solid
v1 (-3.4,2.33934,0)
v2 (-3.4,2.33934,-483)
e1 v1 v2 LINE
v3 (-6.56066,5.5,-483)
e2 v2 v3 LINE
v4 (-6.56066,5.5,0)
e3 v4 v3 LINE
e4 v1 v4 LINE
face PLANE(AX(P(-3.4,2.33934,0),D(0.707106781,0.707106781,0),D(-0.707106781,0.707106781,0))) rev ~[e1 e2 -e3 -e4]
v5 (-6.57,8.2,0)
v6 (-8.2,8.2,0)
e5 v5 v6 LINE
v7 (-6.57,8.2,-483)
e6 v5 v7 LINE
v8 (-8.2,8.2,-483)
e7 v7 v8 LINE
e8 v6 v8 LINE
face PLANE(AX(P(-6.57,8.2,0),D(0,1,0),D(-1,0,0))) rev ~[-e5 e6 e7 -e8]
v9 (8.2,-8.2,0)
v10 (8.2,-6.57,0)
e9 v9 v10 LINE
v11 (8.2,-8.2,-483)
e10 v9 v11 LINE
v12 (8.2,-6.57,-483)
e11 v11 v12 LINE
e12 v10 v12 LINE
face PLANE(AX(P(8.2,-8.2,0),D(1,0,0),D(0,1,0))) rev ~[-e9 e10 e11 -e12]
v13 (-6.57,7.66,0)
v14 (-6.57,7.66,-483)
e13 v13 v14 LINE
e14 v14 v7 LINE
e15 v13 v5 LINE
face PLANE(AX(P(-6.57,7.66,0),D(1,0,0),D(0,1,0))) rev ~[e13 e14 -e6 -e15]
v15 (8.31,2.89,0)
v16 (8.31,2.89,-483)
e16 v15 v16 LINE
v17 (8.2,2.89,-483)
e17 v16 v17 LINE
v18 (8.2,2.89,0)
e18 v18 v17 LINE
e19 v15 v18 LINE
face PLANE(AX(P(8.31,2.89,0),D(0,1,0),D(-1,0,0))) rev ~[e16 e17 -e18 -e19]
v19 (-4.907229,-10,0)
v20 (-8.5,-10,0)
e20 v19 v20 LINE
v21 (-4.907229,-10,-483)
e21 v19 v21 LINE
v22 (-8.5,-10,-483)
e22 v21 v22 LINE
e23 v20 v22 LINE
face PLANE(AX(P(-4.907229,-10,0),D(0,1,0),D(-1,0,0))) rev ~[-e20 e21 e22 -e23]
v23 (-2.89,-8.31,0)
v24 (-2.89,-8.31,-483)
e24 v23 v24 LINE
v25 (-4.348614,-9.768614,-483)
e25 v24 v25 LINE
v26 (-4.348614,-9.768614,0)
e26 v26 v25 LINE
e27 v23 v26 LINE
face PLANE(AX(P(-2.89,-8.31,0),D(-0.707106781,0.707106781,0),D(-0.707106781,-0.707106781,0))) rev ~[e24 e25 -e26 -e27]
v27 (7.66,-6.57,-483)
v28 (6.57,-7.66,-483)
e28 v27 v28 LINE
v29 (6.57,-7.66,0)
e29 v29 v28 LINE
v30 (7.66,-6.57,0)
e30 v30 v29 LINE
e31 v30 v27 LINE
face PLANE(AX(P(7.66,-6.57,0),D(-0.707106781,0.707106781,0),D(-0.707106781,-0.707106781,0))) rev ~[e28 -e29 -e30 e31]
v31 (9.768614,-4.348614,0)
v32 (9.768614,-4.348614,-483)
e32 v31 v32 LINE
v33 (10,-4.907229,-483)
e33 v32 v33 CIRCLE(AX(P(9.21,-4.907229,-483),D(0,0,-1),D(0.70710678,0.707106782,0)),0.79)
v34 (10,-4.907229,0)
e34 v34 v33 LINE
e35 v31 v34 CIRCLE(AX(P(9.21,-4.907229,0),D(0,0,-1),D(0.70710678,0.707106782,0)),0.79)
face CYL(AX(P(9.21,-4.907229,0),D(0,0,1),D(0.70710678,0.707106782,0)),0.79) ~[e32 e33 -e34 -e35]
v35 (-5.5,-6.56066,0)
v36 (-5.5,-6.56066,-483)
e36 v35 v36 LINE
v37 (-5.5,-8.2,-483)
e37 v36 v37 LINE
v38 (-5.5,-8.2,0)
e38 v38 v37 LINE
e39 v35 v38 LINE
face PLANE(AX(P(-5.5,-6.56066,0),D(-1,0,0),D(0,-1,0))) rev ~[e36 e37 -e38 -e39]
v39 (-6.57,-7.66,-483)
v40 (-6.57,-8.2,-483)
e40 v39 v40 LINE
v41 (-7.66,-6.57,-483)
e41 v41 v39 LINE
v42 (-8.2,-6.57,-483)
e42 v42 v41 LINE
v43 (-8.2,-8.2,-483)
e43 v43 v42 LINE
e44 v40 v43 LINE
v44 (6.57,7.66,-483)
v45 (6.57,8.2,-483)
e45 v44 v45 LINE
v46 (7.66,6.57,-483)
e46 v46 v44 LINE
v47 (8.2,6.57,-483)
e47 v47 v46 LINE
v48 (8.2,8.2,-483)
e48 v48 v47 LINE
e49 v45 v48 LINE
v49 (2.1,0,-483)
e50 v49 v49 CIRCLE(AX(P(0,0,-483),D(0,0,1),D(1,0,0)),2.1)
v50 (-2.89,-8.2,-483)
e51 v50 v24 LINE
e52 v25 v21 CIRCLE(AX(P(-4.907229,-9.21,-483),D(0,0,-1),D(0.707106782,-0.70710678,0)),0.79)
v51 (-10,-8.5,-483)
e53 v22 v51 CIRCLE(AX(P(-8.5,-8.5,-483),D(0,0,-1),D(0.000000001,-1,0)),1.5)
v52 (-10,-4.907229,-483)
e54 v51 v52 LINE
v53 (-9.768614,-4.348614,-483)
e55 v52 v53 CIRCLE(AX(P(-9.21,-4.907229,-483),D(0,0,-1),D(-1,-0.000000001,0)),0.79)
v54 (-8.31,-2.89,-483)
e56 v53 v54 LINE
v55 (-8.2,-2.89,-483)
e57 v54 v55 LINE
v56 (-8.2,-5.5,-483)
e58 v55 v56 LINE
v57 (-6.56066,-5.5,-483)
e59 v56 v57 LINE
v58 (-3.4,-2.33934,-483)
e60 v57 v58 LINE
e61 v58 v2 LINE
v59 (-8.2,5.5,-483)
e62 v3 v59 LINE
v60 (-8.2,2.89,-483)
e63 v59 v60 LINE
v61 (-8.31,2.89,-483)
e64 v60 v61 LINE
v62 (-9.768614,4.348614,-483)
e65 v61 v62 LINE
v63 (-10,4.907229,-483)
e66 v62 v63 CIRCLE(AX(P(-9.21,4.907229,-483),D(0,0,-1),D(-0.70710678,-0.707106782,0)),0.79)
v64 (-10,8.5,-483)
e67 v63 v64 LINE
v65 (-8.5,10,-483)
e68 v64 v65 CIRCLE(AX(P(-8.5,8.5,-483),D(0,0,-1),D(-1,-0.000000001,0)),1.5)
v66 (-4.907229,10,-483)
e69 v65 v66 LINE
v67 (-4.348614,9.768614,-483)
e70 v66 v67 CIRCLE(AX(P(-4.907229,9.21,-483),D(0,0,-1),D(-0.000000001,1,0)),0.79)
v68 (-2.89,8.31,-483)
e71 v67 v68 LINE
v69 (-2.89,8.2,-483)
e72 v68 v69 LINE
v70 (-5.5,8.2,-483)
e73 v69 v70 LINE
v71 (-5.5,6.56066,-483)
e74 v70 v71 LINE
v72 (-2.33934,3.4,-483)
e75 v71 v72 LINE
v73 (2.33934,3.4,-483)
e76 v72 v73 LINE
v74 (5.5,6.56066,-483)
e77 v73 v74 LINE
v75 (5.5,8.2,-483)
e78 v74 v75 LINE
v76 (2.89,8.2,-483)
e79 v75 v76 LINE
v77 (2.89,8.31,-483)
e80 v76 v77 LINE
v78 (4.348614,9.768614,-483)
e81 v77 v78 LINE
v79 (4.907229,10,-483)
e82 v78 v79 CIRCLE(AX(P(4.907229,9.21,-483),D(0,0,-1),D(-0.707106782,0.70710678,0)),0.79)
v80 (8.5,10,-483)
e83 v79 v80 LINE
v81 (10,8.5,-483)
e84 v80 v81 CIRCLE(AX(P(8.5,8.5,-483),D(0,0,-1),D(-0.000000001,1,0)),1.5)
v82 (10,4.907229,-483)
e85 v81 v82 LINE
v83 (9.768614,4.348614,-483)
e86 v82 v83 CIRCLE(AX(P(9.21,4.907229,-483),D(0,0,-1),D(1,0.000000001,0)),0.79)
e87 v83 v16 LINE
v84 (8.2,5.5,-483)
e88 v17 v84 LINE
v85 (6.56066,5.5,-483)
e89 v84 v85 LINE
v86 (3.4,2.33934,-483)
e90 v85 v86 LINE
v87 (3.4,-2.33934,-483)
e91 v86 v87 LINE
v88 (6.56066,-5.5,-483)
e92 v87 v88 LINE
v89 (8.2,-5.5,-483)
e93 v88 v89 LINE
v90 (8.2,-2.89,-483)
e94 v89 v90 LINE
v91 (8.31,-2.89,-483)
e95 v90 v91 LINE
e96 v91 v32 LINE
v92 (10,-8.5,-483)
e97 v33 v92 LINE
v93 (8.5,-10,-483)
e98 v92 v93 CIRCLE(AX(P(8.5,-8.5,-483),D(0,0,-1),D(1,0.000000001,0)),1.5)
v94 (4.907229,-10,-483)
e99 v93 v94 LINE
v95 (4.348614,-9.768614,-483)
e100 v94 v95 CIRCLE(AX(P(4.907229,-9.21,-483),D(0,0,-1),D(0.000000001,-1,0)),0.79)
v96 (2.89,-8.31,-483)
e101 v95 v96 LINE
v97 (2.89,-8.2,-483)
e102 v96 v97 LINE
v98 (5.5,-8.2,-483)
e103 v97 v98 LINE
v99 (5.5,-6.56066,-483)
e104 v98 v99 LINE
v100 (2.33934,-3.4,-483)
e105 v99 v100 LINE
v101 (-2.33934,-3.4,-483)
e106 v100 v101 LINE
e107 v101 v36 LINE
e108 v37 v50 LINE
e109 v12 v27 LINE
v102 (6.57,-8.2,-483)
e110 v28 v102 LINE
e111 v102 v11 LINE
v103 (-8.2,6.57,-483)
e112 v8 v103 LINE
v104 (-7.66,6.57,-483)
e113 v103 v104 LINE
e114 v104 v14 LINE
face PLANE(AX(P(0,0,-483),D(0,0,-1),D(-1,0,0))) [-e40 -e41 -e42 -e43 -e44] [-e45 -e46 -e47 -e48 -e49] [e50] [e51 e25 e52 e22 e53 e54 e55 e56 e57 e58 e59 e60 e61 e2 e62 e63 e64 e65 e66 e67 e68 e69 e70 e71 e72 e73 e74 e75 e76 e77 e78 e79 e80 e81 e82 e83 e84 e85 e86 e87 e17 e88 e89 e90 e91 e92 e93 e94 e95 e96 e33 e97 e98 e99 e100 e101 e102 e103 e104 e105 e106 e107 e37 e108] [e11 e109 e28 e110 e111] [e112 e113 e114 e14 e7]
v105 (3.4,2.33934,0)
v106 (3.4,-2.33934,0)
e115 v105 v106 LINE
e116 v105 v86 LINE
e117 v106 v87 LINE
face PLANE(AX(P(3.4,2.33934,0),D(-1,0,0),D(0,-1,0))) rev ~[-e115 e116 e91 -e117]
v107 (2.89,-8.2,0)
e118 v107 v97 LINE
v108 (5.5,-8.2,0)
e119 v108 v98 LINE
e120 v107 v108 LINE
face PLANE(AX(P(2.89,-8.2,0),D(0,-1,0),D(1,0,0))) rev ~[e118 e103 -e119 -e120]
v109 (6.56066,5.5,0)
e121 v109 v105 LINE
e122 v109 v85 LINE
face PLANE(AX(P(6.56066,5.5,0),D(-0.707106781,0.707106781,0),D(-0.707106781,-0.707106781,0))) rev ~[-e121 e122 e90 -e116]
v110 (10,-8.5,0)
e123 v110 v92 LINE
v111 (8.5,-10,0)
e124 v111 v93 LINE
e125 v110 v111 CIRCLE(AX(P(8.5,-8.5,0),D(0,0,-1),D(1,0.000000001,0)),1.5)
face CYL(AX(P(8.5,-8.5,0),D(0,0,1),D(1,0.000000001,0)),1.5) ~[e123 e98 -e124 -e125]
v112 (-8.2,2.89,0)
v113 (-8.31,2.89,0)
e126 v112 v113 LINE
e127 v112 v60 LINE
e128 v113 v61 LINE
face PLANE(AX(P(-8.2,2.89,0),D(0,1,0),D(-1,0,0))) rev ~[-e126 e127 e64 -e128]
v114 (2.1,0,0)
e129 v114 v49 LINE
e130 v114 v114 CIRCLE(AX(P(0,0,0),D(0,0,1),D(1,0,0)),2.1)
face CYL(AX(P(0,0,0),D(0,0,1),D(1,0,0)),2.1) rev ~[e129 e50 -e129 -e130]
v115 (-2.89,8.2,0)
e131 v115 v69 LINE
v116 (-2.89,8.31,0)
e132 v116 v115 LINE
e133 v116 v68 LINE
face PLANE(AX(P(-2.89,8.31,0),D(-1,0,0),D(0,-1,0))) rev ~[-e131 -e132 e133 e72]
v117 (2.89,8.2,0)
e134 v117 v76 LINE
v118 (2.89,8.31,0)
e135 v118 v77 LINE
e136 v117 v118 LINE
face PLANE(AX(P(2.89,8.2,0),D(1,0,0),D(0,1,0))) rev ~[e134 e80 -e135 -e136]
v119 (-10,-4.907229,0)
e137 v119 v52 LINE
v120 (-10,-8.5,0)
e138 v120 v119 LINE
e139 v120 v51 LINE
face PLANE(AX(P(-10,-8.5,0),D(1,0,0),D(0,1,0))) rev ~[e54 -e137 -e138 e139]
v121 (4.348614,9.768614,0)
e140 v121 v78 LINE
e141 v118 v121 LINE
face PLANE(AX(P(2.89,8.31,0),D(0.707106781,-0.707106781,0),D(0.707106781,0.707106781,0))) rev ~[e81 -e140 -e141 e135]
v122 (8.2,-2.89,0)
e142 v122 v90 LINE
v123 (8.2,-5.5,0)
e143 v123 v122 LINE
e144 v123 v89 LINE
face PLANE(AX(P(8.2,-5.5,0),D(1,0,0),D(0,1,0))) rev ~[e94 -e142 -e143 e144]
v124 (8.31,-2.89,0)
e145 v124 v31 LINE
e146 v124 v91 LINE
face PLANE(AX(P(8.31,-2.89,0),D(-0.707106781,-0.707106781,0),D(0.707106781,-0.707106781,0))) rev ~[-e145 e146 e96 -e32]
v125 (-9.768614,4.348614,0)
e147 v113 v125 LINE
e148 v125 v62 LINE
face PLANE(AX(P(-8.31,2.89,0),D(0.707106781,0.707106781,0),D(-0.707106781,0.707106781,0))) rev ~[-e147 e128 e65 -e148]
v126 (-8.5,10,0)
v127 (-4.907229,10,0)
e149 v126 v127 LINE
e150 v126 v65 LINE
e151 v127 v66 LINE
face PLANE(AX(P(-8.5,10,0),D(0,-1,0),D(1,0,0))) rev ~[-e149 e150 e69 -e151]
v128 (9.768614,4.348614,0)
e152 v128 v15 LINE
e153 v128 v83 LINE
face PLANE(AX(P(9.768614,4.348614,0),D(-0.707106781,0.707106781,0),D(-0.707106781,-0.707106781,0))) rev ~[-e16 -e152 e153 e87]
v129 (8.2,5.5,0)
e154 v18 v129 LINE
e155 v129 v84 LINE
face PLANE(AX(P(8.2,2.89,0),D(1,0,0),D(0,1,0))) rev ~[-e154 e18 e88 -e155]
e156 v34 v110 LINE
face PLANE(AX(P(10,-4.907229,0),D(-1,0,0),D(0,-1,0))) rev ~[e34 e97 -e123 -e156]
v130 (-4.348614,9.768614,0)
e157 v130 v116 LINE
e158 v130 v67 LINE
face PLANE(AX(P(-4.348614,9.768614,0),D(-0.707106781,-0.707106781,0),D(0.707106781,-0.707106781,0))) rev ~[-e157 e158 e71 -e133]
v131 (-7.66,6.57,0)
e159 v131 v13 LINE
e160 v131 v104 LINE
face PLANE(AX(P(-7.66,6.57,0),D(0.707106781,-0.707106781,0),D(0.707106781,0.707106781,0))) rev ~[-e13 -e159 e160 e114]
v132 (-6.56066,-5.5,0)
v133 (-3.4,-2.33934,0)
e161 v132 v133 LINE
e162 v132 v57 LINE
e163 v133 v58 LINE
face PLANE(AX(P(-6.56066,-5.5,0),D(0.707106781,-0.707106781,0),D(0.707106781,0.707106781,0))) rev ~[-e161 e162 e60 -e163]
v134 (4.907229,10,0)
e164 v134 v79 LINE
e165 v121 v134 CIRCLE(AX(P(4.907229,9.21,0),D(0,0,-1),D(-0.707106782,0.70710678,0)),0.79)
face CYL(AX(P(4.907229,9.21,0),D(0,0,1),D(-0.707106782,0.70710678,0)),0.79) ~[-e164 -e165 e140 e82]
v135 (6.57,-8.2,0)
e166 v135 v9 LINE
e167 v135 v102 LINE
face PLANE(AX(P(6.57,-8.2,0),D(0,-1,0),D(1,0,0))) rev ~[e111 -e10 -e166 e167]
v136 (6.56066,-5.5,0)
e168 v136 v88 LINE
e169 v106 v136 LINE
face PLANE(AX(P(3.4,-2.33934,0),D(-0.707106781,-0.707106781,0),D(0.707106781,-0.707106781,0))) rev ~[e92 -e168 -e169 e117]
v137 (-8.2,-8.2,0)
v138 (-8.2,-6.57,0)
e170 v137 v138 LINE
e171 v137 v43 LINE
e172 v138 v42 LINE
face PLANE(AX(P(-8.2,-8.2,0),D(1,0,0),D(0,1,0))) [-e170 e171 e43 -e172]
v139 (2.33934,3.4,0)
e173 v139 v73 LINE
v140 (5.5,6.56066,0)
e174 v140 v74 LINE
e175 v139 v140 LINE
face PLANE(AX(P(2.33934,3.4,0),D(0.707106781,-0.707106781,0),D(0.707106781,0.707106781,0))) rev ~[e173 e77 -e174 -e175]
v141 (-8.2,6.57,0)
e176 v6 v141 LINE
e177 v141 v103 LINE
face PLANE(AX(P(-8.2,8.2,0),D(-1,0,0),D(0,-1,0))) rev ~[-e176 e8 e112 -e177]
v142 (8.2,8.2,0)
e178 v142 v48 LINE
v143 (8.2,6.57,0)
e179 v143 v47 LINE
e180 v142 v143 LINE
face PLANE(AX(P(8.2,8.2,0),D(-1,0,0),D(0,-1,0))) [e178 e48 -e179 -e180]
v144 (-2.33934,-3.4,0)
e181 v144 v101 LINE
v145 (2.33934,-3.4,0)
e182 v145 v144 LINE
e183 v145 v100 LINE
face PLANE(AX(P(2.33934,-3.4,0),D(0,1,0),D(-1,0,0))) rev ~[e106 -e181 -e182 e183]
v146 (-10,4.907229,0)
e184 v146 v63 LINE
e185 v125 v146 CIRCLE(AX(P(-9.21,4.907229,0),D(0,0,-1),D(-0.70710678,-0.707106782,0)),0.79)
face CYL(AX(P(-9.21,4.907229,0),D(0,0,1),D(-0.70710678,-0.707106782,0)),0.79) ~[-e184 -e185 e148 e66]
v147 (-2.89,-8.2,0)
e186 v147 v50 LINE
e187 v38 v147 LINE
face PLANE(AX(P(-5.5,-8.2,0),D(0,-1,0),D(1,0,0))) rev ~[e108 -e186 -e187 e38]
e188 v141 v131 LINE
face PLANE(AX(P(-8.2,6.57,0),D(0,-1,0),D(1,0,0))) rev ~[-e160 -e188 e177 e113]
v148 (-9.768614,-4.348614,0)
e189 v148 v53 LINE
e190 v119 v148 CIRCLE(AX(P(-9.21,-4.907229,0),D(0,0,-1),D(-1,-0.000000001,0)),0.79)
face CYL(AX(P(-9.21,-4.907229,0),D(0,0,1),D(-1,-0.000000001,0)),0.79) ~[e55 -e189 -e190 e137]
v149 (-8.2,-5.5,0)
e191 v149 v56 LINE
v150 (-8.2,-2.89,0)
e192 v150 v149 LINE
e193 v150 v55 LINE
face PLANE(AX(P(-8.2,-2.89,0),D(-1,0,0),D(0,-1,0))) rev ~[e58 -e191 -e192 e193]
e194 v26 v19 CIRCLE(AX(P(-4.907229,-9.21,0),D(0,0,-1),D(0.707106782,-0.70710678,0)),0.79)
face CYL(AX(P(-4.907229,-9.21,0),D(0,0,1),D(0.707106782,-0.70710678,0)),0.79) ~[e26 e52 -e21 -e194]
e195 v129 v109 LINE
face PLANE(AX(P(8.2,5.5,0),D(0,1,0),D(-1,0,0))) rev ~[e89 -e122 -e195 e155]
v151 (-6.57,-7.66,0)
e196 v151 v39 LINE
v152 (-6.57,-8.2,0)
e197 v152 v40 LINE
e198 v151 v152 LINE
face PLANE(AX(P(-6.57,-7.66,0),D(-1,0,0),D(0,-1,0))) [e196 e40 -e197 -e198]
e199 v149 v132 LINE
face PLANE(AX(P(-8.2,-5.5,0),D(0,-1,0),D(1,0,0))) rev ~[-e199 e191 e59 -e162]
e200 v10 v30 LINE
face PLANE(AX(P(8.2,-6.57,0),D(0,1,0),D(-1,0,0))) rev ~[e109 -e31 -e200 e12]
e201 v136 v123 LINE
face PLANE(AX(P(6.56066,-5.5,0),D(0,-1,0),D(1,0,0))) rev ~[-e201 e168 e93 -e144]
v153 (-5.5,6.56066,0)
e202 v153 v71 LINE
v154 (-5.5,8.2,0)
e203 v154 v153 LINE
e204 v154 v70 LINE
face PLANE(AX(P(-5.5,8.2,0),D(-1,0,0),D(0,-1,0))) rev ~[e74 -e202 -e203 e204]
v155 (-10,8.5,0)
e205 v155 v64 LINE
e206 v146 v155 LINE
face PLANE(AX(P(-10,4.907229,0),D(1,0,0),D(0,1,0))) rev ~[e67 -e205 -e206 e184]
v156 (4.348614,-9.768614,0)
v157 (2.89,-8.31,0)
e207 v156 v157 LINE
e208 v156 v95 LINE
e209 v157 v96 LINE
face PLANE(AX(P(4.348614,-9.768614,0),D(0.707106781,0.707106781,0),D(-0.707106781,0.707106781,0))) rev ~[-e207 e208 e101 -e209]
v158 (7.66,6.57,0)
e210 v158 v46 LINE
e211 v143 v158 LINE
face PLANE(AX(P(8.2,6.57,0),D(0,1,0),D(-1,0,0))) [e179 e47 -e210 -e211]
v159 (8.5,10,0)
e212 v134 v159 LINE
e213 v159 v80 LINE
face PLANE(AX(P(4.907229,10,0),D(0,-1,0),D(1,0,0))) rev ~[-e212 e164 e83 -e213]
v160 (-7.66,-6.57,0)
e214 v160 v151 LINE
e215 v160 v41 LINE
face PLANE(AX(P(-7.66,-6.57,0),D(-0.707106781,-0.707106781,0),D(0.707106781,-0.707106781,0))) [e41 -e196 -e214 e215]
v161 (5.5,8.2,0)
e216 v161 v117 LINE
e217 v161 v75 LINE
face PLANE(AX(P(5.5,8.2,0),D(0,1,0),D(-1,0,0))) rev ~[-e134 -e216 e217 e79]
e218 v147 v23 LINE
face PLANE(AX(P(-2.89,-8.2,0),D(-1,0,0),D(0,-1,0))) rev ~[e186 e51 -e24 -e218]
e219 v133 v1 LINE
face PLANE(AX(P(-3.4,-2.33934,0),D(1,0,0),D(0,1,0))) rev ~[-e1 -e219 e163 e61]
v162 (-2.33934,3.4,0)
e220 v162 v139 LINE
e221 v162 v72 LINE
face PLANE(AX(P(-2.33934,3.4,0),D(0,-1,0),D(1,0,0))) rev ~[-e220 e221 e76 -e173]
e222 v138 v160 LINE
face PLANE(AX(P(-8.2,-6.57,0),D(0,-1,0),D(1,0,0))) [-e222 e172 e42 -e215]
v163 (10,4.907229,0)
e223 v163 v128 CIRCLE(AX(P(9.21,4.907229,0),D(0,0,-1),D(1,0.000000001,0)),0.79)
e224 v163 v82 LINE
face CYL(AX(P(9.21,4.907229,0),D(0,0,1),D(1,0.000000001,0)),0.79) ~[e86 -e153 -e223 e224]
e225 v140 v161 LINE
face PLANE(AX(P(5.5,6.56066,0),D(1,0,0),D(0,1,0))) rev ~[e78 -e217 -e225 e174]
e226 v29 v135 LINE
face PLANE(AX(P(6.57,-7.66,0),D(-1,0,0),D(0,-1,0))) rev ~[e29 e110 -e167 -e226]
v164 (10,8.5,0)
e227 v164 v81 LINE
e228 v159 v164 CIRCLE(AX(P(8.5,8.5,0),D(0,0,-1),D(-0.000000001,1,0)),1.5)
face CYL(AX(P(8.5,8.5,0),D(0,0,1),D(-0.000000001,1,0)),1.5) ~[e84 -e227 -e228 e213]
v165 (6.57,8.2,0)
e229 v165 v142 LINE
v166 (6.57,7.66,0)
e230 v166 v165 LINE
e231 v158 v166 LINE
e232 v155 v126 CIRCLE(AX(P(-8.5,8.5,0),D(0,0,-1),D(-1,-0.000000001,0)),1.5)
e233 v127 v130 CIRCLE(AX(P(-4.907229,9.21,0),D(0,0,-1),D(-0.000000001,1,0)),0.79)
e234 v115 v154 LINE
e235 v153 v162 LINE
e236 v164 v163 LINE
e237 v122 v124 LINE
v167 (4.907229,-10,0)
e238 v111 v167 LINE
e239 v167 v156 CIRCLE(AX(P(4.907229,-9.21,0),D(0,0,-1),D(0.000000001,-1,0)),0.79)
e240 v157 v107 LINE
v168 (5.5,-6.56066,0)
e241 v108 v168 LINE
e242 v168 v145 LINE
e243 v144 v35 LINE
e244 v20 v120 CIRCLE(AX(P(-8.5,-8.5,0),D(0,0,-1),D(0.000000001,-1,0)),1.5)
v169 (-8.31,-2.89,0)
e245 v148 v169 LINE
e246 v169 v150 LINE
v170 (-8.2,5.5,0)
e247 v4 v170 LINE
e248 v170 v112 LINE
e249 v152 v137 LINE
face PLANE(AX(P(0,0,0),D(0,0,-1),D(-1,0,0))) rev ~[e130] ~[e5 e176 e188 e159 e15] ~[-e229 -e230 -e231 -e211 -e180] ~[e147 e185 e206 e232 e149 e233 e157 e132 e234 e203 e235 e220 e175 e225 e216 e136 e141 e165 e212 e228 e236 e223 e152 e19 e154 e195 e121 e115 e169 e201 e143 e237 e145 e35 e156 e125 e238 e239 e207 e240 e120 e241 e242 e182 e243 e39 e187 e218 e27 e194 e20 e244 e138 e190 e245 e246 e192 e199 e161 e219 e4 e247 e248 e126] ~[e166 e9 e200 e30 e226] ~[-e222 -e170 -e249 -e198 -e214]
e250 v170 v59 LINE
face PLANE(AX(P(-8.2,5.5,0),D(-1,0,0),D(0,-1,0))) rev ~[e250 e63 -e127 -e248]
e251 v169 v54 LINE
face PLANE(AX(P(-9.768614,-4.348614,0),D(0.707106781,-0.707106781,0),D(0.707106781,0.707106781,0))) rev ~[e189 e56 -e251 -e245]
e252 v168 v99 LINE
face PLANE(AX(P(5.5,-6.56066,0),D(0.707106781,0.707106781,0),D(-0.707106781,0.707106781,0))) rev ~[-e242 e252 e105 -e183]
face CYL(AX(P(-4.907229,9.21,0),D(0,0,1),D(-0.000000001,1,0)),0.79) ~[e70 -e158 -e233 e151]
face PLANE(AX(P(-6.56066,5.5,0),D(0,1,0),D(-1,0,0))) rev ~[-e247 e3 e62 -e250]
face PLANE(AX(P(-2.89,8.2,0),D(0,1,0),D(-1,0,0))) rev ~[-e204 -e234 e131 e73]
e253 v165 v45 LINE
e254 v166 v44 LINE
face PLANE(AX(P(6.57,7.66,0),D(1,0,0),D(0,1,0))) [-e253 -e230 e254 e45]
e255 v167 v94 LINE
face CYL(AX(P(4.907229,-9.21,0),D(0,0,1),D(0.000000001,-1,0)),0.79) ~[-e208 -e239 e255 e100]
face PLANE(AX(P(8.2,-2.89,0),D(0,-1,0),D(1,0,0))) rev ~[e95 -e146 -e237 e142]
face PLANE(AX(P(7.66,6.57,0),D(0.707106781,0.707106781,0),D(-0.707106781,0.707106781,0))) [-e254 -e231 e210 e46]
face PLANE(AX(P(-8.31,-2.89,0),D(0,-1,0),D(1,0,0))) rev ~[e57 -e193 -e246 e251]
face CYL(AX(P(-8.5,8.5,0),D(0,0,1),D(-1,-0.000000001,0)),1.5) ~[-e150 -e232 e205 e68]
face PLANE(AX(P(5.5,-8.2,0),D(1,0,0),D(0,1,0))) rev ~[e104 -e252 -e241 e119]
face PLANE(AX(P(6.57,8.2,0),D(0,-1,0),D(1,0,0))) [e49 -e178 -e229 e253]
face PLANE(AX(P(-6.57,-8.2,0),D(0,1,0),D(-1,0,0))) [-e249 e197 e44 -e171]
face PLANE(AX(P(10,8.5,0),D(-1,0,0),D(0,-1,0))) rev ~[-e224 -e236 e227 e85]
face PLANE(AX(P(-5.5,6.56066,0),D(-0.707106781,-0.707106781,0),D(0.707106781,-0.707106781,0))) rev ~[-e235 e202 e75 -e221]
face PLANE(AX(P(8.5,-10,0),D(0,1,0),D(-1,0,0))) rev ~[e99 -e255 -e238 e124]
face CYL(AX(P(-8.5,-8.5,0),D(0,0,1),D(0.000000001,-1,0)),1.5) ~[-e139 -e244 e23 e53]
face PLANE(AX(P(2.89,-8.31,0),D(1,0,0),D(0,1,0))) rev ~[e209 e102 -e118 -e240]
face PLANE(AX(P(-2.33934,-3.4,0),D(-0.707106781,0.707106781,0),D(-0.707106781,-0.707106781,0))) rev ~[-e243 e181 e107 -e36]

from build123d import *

# Parameters (mm, degrees)
SKETCH6_R           = 2.1
BOSS_EXTRUDE1_DEPTH = 483


with BuildPart() as part:
    # Sketch6 → Boss-Extrude1 (new body)
    with BuildSketch(Plane.XY):
        with BuildLine():
            Line((-3.4, -2.339339828), (-3.4, 2.339339828))
            Line((-3.4, 2.339339828), (-6.560660172, 5.5))
            Line((-6.560660172, 5.5), (-8.2, 5.5))
            Line((-8.2, 5.5), (-8.2, 2.89))
            Line((-8.2, 2.89), (-8.31, 2.89))
            Line((-8.31, 2.89), (-9.768614357, 4.348614357))
            ThreePointArc((-9.768614357, 4.348614357), (-9.939864831, 4.604908803), (-10, 4.907228714))
            Line((-10, 4.907228714), (-10, 8.5))
            ThreePointArc((-10, 8.5), (-9.560660172, 9.560660172), (-8.5, 10))
            Line((-8.5, 10), (-4.907228714, 10))
            ThreePointArc((-4.907228714, 10), (-4.604908803, 9.939864831), (-4.348614357, 9.768614357))
            Line((-4.348614357, 9.768614357), (-2.89, 8.31))
            Line((-2.89, 8.31), (-2.89, 8.2))
            Line((-2.89, 8.2), (-5.5, 8.2))
            Line((-5.5, 8.2), (-5.5, 6.560660172))
            Line((-5.5, 6.560660172), (-2.339339828, 3.4))
            Line((-2.339339828, 3.4), (2.339339828, 3.4))
            Line((2.339339828, 3.4), (5.5, 6.560660172))
            Line((5.5, 6.560660172), (5.5, 8.2))
            Line((5.5, 8.2), (2.89, 8.2))
            Line((2.89, 8.2), (2.89, 8.31))
            Line((2.89, 8.31), (4.348614357, 9.768614357))
            ThreePointArc((4.348614357, 9.768614357), (4.604908803, 9.939864831), (4.907228714, 10))
            Line((4.907228714, 10), (8.5, 10))
            ThreePointArc((8.5, 10), (9.560660172, 9.560660172), (10, 8.5))
            Line((10, 8.5), (10, 4.907228714))
            ThreePointArc((10, 4.907228714), (9.939864831, 4.604908803), (9.768614357, 4.348614357))
            Line((9.768614357, 4.348614357), (8.31, 2.89))
            Line((8.31, 2.89), (8.2, 2.89))
            Line((8.2, 2.89), (8.2, 5.5))
            Line((8.2, 5.5), (6.560660172, 5.5))
            Line((6.560660172, 5.5), (3.4, 2.339339828))
            Line((3.4, 2.339339828), (3.4, -2.339339828))
            Line((3.4, -2.339339828), (6.560660172, -5.5))
            Line((6.560660172, -5.5), (8.2, -5.5))
            Line((8.2, -5.5), (8.2, -2.89))
            Line((8.2, -2.89), (8.31, -2.89))
            Line((8.31, -2.89), (9.768614357, -4.348614357))
            ThreePointArc((9.768614357, -4.348614357), (9.939864831, -4.604908803), (10, -4.907228714))
            Line((10, -4.907228714), (10, -8.5))
            ThreePointArc((10, -8.5), (9.560660172, -9.560660172), (8.5, -10))
            Line((8.5, -10), (4.907228714, -10))
            ThreePointArc((4.907228714, -10), (4.604908803, -9.939864831), (4.348614357, -9.768614357))
            Line((4.348614357, -9.768614357), (2.89, -8.31))
            Line((2.89, -8.31), (2.89, -8.2))
            Line((2.89, -8.2), (5.5, -8.2))
            Line((5.5, -8.2), (5.5, -6.560660172))
            Line((5.5, -6.560660172), (2.339339828, -3.4))
            Line((2.339339828, -3.4), (-2.339339828, -3.4))
            Line((-2.339339828, -3.4), (-5.5, -6.560660172))
            Line((-5.5, -6.560660172), (-5.5, -8.2))
            Line((-5.5, -8.2), (-2.89, -8.2))
            Line((-2.89, -8.2), (-2.89, -8.31))
            Line((-2.89, -8.31), (-4.348614357, -9.768614357))
            ThreePointArc((-4.348614357, -9.768614357), (-4.604908803, -9.939864831), (-4.907228714, -10))
            Line((-4.907228714, -10), (-8.5, -10))
            ThreePointArc((-8.5, -10), (-9.560660172, -9.560660172), (-10, -8.5))
            Line((-10, -8.5), (-10, -4.907228714))
            ThreePointArc((-10, -4.907228714), (-9.939864831, -4.604908803), (-9.768614357, -4.348614357))
            Line((-9.768614357, -4.348614357), (-8.31, -2.89))
            Line((-8.31, -2.89), (-8.2, -2.89))
            Line((-8.2, -2.89), (-8.2, -5.5))
            Line((-8.2, -5.5), (-6.560660172, -5.5))
            Line((-6.560660172, -5.5), (-3.4, -2.339339828))
        make_face()
        Circle(SKETCH6_R, mode=Mode.SUBTRACT)
        Polygon((-7.66, 6.57), (-6.57, 7.66), (-6.57, 8.2), (-8.2, 8.2), (-8.2, 6.57), align=None, mode=Mode.SUBTRACT)
        Polygon((8.2, 6.57), (7.66, 6.57), (6.57, 7.66), (6.57, 8.2), (8.2, 8.2), align=None, mode=Mode.SUBTRACT)
        Polygon((7.66, -6.57), (6.57, -7.66), (6.57, -8.2), (8.2, -8.2), (8.2, -6.57), align=None, mode=Mode.SUBTRACT)
        Polygon((-8.2, -6.57), (-7.66, -6.57), (-6.57, -7.66), (-6.57, -8.2), (-8.2, -8.2), align=None, mode=Mode.SUBTRACT)
    extrude(amount=-BOSS_EXTRUDE1_DEPTH)


solid = part.part
